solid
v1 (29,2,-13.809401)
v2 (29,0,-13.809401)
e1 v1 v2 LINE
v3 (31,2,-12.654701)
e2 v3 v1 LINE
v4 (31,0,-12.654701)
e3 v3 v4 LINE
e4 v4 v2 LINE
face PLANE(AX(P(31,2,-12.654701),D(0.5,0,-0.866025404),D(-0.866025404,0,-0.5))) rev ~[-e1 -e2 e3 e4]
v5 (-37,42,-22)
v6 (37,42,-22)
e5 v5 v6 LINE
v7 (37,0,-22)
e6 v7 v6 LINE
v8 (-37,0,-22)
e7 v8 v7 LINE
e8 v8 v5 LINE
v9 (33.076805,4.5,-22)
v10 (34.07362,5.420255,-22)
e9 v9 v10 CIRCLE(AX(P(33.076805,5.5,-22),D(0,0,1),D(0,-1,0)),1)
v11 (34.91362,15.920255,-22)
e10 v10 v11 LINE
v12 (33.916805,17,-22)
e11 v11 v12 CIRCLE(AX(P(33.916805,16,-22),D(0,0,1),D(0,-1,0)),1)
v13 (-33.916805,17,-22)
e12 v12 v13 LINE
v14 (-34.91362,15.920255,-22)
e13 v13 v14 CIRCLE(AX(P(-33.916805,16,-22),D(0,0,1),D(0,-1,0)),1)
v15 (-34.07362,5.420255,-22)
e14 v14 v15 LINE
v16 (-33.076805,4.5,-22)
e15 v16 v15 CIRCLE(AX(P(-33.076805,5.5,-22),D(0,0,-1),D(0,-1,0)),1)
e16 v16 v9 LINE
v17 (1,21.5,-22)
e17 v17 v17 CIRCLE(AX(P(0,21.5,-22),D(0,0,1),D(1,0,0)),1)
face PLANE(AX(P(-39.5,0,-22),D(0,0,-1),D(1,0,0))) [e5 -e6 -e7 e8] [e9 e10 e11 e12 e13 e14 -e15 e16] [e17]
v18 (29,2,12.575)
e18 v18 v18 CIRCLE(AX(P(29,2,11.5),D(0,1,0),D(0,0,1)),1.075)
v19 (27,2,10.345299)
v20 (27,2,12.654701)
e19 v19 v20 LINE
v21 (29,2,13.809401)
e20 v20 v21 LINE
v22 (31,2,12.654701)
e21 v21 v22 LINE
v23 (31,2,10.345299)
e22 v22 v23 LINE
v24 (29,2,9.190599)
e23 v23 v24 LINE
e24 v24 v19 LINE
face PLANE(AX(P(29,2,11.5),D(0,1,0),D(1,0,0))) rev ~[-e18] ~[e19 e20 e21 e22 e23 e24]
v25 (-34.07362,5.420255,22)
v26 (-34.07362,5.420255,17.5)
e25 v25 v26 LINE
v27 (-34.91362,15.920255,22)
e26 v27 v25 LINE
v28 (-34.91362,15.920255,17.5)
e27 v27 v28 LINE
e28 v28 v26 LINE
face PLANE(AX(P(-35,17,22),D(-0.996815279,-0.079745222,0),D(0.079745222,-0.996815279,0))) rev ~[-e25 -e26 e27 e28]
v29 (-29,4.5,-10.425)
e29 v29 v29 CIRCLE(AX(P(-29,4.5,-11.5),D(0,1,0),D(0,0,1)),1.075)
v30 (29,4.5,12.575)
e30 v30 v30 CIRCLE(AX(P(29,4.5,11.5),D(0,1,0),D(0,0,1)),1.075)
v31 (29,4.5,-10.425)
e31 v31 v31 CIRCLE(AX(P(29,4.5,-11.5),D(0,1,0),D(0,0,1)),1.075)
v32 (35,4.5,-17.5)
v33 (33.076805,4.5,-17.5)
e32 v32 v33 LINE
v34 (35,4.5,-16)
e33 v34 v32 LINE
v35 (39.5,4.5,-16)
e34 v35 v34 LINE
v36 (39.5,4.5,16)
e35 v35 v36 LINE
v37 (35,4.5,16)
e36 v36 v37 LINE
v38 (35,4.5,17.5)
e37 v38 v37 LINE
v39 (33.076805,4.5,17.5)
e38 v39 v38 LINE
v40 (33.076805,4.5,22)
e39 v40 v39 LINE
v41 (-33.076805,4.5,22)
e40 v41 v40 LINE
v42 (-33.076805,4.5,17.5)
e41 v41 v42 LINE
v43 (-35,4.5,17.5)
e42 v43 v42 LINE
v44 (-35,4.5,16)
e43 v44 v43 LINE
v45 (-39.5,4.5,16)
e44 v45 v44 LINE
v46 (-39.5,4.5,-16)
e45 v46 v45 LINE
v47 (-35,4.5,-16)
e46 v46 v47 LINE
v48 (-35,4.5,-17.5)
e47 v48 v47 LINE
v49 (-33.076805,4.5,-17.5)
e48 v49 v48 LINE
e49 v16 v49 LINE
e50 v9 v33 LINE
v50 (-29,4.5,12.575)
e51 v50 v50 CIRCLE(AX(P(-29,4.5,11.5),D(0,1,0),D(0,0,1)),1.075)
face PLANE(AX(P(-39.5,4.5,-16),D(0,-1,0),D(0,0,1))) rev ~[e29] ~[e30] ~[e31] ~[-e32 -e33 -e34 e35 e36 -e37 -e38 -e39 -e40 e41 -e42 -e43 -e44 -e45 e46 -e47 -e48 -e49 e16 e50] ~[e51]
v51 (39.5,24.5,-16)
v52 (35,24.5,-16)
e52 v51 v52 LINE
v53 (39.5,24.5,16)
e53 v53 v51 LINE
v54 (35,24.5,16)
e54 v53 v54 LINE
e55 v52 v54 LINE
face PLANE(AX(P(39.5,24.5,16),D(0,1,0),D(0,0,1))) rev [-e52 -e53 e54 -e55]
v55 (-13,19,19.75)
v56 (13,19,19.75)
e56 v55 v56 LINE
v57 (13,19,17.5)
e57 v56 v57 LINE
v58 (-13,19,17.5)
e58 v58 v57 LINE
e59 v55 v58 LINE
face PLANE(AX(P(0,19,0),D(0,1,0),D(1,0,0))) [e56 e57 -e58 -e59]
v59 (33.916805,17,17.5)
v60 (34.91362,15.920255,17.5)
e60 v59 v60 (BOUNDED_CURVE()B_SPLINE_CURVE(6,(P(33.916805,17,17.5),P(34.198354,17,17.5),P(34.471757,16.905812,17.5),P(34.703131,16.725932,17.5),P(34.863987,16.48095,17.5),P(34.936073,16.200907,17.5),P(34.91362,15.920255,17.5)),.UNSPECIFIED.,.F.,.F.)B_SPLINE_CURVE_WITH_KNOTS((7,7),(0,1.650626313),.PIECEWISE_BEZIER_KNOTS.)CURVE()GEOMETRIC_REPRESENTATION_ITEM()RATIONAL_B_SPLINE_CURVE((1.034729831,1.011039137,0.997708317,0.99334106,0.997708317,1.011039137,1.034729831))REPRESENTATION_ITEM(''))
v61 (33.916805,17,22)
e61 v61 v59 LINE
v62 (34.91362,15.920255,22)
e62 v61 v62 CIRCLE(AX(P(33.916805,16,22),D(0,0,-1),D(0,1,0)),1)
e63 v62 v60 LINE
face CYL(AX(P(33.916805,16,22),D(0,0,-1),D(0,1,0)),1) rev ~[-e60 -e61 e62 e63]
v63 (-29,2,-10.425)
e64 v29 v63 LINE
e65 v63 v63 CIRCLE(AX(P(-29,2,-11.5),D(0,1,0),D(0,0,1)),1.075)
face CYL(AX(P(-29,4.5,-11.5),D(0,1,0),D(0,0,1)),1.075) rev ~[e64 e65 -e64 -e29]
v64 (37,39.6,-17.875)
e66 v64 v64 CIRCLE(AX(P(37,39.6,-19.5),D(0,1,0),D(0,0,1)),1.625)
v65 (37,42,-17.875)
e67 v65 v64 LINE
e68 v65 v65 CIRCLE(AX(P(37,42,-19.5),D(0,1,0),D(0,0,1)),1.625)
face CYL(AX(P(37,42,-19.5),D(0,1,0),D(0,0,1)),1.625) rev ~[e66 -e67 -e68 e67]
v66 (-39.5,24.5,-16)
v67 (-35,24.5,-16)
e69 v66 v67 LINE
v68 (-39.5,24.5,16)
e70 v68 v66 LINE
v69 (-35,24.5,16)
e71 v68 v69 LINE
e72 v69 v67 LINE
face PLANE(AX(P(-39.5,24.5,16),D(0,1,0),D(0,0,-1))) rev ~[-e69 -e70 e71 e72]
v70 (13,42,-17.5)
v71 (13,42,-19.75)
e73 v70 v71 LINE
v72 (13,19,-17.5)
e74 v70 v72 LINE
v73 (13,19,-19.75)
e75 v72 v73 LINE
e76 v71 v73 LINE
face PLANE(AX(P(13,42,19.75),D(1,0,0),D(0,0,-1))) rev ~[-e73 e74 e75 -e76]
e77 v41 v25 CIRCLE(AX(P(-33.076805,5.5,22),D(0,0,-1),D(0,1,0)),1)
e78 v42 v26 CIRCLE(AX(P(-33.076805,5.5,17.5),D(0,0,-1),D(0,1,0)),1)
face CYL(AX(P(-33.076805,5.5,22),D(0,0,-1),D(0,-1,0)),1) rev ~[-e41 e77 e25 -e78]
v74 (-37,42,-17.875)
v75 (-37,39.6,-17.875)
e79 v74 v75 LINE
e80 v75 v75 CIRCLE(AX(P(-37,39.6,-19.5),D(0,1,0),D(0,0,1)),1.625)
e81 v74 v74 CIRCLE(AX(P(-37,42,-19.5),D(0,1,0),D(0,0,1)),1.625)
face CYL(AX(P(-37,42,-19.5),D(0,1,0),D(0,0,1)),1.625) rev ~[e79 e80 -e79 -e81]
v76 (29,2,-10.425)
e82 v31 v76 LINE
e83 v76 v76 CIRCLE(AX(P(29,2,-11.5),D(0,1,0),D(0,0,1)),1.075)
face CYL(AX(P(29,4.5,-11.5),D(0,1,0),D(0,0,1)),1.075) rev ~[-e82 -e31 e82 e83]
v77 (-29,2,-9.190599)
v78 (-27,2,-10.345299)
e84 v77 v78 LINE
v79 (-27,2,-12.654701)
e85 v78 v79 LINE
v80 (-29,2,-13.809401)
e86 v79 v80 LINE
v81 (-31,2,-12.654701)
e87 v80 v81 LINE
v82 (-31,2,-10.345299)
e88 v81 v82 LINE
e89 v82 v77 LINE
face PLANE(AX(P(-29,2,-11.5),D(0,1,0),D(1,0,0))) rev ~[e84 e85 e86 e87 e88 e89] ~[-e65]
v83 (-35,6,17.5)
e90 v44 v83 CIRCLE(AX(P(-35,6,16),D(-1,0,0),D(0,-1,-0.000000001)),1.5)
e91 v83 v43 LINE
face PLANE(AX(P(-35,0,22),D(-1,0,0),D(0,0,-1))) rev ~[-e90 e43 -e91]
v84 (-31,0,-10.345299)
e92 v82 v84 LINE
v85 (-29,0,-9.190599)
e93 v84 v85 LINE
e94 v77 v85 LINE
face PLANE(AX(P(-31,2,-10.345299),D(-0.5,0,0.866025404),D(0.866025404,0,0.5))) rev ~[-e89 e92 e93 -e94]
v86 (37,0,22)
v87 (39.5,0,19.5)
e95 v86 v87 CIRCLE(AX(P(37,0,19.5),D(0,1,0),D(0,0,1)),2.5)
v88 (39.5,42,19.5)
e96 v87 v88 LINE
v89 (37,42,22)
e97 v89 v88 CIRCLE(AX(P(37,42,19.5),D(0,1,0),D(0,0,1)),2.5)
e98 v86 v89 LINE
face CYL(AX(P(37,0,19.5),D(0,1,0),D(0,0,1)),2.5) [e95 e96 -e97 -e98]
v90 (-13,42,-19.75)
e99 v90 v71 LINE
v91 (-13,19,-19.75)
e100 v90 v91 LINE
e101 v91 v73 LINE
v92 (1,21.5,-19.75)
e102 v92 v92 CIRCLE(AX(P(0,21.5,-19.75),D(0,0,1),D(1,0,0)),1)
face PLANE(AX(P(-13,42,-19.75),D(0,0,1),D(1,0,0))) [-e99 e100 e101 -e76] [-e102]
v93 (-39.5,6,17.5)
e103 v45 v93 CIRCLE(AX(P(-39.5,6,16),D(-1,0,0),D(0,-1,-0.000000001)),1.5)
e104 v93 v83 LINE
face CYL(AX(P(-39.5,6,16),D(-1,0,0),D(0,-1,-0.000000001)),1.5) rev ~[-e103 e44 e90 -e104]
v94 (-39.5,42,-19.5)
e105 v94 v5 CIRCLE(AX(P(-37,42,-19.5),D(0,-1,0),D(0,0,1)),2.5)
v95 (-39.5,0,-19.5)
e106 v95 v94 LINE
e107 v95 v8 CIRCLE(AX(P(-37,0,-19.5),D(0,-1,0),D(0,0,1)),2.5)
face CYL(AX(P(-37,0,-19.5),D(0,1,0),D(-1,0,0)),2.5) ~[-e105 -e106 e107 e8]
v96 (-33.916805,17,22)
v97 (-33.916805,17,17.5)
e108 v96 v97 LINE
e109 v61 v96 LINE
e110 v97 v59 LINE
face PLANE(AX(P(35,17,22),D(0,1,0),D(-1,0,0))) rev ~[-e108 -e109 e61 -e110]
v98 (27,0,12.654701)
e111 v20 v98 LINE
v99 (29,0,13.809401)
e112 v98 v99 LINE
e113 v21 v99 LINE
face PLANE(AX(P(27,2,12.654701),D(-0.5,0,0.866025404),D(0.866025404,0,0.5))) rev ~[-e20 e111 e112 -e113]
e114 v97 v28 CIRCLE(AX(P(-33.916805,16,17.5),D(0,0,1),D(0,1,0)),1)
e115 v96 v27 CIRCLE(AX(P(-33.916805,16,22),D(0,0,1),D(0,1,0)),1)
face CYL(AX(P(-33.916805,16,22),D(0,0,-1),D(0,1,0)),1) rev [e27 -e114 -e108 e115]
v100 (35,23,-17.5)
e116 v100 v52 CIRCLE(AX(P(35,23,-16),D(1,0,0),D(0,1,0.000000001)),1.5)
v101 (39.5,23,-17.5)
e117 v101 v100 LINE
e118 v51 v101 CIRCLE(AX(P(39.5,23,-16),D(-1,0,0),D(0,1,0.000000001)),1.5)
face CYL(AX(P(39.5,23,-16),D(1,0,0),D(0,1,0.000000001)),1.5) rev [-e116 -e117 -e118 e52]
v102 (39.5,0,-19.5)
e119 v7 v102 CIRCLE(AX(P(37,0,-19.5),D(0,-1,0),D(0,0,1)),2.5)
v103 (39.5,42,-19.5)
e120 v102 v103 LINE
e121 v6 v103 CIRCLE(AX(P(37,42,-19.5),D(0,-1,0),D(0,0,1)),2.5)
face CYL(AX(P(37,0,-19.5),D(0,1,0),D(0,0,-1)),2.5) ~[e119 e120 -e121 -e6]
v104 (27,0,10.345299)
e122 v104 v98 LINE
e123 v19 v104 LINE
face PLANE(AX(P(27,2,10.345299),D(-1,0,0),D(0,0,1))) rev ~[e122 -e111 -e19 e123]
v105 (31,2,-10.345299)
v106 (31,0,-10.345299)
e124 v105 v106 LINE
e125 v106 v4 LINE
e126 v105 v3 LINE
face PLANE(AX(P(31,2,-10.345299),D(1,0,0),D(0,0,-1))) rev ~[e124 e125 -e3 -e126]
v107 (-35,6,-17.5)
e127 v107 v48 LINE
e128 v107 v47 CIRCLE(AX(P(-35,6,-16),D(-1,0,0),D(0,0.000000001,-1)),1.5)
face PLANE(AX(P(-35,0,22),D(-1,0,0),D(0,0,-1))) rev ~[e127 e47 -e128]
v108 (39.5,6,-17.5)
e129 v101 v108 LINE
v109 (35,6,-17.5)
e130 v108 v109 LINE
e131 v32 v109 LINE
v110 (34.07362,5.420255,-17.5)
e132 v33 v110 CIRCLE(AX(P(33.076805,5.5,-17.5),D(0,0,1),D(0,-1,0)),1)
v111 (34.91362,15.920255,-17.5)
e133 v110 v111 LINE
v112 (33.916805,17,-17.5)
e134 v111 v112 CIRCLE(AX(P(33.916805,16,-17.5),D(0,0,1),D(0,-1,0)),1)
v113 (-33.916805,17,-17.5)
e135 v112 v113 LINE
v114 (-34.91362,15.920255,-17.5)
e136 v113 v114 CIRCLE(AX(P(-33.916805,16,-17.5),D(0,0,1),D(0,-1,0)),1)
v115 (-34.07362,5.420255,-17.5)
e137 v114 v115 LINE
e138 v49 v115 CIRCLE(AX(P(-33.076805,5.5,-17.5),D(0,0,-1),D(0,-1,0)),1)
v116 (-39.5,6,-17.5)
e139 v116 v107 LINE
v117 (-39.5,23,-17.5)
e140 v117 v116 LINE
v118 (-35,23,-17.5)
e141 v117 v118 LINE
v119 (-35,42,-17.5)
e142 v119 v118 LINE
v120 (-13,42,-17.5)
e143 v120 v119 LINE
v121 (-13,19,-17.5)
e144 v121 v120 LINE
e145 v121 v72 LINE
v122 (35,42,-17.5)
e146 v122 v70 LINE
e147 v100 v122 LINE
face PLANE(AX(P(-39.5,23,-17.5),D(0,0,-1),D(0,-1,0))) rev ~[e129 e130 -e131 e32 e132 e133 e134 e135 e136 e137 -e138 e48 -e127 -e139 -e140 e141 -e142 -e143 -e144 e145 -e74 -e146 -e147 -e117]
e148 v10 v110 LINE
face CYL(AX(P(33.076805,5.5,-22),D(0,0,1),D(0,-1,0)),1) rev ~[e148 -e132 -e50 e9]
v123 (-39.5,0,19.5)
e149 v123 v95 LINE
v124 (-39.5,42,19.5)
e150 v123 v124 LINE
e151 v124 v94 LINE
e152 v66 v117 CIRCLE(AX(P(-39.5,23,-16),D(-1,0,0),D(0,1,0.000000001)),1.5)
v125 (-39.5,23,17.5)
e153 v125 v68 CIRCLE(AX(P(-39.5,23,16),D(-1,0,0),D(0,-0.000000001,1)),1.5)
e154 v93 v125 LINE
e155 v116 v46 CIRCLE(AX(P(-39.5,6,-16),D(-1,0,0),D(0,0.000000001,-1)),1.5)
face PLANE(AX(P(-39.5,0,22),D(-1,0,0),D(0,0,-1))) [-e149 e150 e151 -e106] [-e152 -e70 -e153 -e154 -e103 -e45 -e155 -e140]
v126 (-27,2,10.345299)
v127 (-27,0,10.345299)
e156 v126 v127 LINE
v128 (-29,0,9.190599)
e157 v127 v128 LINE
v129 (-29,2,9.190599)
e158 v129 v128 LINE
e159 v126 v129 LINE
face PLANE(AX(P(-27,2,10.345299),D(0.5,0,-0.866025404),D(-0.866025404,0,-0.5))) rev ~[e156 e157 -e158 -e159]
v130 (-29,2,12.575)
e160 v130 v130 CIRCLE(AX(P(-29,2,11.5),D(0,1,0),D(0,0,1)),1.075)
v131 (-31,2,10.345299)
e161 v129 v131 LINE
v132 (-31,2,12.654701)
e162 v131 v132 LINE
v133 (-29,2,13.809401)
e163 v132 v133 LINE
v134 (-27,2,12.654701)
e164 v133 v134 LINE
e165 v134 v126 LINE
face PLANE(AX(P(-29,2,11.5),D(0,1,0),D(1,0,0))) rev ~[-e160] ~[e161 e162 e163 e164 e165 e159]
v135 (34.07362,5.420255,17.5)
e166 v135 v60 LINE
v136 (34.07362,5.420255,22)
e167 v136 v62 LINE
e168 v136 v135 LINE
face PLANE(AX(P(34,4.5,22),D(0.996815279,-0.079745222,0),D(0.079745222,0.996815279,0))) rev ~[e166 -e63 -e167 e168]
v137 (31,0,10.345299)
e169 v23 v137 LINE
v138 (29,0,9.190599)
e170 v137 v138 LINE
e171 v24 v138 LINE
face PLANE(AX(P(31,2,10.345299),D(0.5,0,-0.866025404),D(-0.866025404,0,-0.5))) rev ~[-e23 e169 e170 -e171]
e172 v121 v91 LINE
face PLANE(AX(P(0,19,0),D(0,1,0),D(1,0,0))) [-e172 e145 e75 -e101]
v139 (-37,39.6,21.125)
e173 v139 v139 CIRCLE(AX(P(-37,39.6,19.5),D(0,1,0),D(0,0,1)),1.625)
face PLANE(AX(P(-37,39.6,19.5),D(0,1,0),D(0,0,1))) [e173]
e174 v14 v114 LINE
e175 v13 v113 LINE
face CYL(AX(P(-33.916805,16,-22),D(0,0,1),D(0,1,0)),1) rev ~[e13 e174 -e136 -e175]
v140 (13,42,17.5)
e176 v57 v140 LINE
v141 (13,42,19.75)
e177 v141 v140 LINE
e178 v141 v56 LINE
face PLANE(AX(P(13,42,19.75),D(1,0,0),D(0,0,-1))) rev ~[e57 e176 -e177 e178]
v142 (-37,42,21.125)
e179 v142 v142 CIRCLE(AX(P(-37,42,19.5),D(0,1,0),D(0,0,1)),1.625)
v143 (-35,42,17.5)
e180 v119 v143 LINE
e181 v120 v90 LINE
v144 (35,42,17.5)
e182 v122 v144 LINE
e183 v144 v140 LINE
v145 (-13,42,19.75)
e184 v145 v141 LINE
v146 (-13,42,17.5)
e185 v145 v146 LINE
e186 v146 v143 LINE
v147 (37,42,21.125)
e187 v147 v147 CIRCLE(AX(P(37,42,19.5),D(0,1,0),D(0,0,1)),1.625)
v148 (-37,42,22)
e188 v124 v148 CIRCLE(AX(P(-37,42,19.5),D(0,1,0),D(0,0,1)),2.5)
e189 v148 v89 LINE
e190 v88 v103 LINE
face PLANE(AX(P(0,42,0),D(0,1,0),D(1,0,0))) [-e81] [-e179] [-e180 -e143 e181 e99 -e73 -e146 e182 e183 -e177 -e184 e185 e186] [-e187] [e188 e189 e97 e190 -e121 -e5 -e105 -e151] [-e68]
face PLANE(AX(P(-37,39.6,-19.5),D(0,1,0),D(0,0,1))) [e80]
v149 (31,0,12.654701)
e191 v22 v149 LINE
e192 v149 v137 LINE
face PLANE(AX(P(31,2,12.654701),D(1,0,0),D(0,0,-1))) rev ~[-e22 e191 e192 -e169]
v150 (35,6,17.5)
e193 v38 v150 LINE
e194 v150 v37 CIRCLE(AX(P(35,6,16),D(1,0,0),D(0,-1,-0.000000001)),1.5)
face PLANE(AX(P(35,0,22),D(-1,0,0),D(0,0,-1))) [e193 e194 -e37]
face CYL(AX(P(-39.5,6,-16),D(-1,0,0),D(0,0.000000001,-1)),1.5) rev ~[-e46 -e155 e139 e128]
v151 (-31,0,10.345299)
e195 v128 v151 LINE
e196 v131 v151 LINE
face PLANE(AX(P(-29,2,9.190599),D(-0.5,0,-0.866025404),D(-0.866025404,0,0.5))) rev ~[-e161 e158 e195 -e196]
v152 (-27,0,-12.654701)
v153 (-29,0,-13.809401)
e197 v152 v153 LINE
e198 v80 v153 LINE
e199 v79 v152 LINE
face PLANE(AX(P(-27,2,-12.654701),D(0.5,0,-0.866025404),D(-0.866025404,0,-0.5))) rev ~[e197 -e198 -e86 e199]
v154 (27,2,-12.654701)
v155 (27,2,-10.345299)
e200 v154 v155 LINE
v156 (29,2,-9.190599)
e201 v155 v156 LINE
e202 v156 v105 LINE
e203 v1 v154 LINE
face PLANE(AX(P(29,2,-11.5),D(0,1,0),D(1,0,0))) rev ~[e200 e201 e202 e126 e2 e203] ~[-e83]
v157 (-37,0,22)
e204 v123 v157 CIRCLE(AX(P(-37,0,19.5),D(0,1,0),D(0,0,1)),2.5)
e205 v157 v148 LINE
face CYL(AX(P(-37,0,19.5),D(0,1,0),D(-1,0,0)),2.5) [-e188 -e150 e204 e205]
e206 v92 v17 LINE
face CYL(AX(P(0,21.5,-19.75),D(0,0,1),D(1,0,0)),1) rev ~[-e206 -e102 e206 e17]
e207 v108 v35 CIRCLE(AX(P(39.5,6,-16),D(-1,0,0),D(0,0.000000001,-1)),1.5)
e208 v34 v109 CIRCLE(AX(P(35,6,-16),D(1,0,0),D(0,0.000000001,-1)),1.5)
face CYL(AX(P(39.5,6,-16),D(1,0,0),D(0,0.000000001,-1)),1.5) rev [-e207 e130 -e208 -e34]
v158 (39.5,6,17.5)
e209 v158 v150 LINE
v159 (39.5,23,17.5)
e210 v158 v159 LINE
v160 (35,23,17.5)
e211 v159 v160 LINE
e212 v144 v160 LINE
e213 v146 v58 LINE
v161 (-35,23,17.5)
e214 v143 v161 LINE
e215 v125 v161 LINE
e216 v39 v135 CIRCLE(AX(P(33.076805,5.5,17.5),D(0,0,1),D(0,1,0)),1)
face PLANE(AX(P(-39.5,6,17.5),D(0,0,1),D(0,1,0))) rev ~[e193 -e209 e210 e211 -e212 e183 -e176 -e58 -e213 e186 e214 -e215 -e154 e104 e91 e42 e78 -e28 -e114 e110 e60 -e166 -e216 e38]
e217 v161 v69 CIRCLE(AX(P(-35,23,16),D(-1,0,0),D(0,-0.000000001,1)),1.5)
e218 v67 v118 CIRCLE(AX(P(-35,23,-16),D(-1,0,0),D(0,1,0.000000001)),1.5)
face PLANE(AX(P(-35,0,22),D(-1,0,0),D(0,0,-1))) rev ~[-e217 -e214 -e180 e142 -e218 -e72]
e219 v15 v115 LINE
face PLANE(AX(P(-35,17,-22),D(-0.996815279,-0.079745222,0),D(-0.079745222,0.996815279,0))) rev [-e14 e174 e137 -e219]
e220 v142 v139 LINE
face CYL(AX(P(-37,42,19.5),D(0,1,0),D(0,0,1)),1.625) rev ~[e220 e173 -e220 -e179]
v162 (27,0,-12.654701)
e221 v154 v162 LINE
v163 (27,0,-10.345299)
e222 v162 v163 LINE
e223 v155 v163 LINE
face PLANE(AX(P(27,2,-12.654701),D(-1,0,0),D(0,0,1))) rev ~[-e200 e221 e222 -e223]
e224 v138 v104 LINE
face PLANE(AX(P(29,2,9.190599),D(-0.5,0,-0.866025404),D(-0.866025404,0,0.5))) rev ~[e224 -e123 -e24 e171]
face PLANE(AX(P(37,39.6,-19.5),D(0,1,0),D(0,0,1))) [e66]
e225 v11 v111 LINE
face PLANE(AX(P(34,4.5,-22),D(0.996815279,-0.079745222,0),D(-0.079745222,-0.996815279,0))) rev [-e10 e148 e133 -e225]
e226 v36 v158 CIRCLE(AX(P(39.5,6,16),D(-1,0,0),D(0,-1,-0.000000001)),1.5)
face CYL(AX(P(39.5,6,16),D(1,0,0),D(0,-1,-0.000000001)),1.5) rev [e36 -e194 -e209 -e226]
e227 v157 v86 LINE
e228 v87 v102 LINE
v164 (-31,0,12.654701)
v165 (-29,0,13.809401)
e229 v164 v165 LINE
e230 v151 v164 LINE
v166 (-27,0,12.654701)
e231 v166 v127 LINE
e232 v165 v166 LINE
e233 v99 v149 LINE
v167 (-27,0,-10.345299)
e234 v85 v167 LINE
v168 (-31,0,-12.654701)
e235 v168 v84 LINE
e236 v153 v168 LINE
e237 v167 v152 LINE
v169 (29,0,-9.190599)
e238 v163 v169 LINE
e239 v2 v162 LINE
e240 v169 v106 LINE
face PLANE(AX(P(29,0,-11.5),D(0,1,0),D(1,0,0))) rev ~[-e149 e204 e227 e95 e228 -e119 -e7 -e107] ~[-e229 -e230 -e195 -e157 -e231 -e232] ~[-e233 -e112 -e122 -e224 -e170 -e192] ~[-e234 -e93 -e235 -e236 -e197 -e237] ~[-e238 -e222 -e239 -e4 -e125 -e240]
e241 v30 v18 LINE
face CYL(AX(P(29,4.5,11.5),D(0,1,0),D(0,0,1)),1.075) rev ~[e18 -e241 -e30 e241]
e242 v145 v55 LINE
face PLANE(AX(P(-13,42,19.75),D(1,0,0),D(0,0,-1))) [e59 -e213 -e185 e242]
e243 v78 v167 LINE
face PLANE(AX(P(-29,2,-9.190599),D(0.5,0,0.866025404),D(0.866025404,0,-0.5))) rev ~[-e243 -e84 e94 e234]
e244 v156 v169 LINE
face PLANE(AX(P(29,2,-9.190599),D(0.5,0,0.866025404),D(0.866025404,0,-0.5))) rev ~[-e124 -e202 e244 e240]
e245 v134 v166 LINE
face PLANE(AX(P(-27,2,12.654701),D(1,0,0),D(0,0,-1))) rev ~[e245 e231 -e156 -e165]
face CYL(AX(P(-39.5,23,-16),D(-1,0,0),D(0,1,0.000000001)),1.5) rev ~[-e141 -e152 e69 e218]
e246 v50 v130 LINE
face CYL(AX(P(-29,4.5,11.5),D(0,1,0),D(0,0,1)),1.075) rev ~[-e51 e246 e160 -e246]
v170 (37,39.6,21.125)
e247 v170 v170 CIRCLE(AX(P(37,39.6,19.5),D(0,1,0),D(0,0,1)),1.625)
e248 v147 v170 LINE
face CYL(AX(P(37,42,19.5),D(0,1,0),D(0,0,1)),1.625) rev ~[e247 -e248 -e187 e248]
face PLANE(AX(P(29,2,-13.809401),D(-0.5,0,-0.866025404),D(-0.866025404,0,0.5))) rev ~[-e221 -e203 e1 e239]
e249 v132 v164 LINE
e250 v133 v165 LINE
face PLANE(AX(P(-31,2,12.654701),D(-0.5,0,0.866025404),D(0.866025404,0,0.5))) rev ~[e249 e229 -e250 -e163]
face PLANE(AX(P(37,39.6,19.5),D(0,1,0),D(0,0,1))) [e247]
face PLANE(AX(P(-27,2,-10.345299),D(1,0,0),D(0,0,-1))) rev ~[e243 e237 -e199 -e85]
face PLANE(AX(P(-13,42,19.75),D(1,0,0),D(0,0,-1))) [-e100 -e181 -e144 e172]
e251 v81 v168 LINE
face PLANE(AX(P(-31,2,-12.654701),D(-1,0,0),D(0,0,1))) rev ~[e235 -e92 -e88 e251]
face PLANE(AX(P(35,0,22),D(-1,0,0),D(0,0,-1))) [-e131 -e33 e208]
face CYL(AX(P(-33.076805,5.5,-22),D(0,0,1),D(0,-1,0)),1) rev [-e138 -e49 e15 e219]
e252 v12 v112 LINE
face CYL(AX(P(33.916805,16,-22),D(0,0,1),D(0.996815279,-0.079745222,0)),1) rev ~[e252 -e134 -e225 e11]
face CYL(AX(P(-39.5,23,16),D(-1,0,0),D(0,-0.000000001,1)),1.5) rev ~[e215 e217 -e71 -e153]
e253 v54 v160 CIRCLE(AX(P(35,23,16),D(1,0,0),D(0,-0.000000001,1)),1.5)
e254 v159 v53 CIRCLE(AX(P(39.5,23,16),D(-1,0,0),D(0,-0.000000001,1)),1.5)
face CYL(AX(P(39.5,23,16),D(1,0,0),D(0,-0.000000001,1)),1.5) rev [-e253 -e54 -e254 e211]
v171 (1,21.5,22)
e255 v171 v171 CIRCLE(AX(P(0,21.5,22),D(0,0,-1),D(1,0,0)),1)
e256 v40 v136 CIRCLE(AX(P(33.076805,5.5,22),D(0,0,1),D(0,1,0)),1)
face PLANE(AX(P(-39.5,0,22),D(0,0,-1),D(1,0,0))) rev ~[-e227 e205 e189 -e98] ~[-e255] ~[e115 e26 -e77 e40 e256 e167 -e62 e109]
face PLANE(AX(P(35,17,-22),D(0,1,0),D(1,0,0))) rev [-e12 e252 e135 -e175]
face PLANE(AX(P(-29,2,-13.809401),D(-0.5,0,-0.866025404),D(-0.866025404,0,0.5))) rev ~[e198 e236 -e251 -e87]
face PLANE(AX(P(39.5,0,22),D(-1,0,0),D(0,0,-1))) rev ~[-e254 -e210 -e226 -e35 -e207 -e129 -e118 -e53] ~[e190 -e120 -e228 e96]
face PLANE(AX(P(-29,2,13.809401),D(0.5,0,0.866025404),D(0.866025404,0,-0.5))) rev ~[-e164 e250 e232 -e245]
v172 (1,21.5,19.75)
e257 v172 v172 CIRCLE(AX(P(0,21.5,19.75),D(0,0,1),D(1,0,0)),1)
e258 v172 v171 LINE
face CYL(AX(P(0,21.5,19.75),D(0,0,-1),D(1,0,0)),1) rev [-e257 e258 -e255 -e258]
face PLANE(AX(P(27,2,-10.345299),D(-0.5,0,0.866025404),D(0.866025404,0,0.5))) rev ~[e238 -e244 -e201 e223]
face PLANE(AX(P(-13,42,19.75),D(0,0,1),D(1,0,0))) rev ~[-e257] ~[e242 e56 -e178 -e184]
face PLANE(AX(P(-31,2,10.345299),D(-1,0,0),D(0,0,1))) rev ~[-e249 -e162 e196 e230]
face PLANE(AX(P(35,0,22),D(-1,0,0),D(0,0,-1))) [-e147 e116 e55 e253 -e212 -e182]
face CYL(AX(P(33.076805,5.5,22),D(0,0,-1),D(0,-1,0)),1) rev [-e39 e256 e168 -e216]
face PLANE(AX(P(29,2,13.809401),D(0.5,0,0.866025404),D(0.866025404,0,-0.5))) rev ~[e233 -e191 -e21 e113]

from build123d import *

# Parameters (mm, degrees)
BASE_W               = 79
BASE_H               = 44
BASE_R               = 1.075
BOSS_EXTRUDE1_DEPTH  = 42
SHELL1_T             = -4.5
CUT_EXTRUDE2_START   = 4.5
BASE_7_R             = 1.075
CUT_EXTRUDE2_DEPTH   = 67.211020086
CUT_EXTRUDE3_START   = 2
BASE_8_R             = 1.075
CUT_EXTRUDE3_DEPTH   = 2
SKETCH3_W            = 26
SKETCH3_H            = 39.5
CUT_EXTRUDE4_DEPTH   = 23
FILLET1_R            = 2.5
CUT_EXTRUDE5_DEPTH   = 39.5
CUT_EXTRUDE6_DEPTH   = 74.5
FILLET2_R            = 1
MOUNT_R              = 1.625
CUT_EXTRUDE7_DEPTH   = 2.4
CUT_EXTRUDE8_START   = -2.25
CAMERA_MOUNT_HOLE_R  = 1
CUT_EXTRUDE8_DEPTH   = 75.777581073
FILLET2_OF_MIRROR3_R = 1


with BuildPart() as part:
    # Base → Boss-Extrude1 (new body)
    # profile 1 of 9: a face of its own
    with BuildSketch(Plane(origin=(0, 0, 0), x_dir=(1, 0, 0), z_dir=(0, 1, 0))):
        Rectangle(BASE_W, BASE_H)
        Polygon((27, -10.345299462), (27, -12.654700538), (29, -13.809401077), (31, -12.654700538), (31, -10.345299462), (29, -9.190598923), align=None, mode=Mode.SUBTRACT)
        Polygon((-31, -10.345299462), (-31, -12.654700538), (-29, -13.809401077), (-27, -12.654700538), (-27, -10.345299462), (-29, -9.190598923), align=None, mode=Mode.SUBTRACT)
        Polygon((-31, 12.654700538), (-31, 10.345299462), (-29, 9.190598923), (-27, 10.345299462), (-27, 12.654700538), (-29, 13.809401077), align=None, mode=Mode.SUBTRACT)
        Polygon((27, 12.654700538), (27, 10.345299462), (29, 9.190598923), (31, 10.345299462), (31, 12.654700538), (29, 13.809401077), align=None, mode=Mode.SUBTRACT)
    # profile 2 of 9: a face of its own
    with BuildSketch(Plane(origin=(0, 0, 0), x_dir=(1, 0, 0), z_dir=(0, 1, 0))):
        Polygon((-29, -9.190598923), (-31, -10.345299462), (-31, -12.654700538), (-29, -13.809401077), (-27, -12.654700538), (-27, -10.345299462), align=None)
        with Locations((-29, -11.5)):
            Circle(BASE_R, mode=Mode.SUBTRACT)
    # profile 3 of 9: a face of its own
    with BuildSketch(Plane(origin=(0, 0, 0), x_dir=(1, 0, 0), z_dir=(0, 1, 0))):
        with Locations((-29, -11.5)):
            Circle(BASE_R)
    # profile 4 of 9: a face of its own
    with BuildSketch(Plane(origin=(0, 0, 0), x_dir=(1, 0, 0), z_dir=(0, 1, 0))):
        Polygon((-29, 13.809401077), (-31, 12.654700538), (-31, 10.345299462), (-29, 9.190598923), (-27, 10.345299462), (-27, 12.654700538), align=None)
        with Locations((-29, 11.5)):
            Circle(BASE_R, mode=Mode.SUBTRACT)
    # profile 5 of 9: a face of its own
    with BuildSketch(Plane(origin=(0, 0, 0), x_dir=(1, 0, 0), z_dir=(0, 1, 0))):
        with Locations((-29, 11.5)):
            Circle(BASE_R)
    # profile 6 of 9: a face of its own
    with BuildSketch(Plane(origin=(0, 0, 0), x_dir=(1, 0, 0), z_dir=(0, 1, 0))):
        Polygon((29, -9.190598923), (27, -10.345299462), (27, -12.654700538), (29, -13.809401077), (31, -12.654700538), (31, -10.345299462), align=None)
        with Locations((29, -11.5)):
            Circle(BASE_R, mode=Mode.SUBTRACT)
    # profile 7 of 9: a face of its own
    with BuildSketch(Plane(origin=(0, 0, 0), x_dir=(1, 0, 0), z_dir=(0, 1, 0))):
        with Locations((29, -11.5)):
            Circle(BASE_R)
    # profile 8 of 9: a face of its own
    with BuildSketch(Plane(origin=(0, 0, 0), x_dir=(1, 0, 0), z_dir=(0, 1, 0))):
        Polygon((29, 13.809401077), (27, 12.654700538), (27, 10.345299462), (29, 9.190598923), (31, 10.345299462), (31, 12.654700538), align=None)
        with Locations((29, 11.5)):
            Circle(BASE_R, mode=Mode.SUBTRACT)
    # profile 9 of 9: a face of its own
    with BuildSketch(Plane(origin=(0, 0, 0), x_dir=(1, 0, 0), z_dir=(0, 1, 0))):
        with Locations((29, 11.5)):
            Circle(BASE_R)
    extrude(amount=BOSS_EXTRUDE1_DEPTH)

    # Shell1
    shell1_openings = [part.faces().sort_by_distance(p)[0] for p in [
        (0, 42, 0),
    ]]
    offset(amount=SHELL1_T, openings=shell1_openings, kind=Kind.INTERSECTION)

    # Base<7> → Cut-Extrude2 (cut, through all)
    with BuildSketch(Plane(origin=(0, 0, 0), x_dir=(1, 0, 0), z_dir=(0, 1, 0)).offset(CUT_EXTRUDE2_START)):
        with Locations(Location((-29, -11.5, 0), (0, 0, 270))):
            Circle(BASE_7_R)
        with Locations(Location((-29, 11.5, 0), (0, 0, 270))):
            Circle(BASE_7_R)
        with Locations(Location((29, -11.5, 0), (0, 0, 270))):
            Circle(BASE_7_R)
        with Locations(Location((29, 11.5, 0), (0, 0, 270))):
            Circle(BASE_7_R)
    extrude(amount=-CUT_EXTRUDE2_DEPTH, mode=Mode.SUBTRACT)

    # Base<8> → Cut-Extrude3 (cut)
    # profile 1 of 4: a face of its own
    with BuildSketch(Plane(origin=(0, 0, 0), x_dir=(1, 0, 0), z_dir=(0, 1, 0)).offset(CUT_EXTRUDE3_START)):
        Polygon((29, 13.809401077), (27, 12.654700538), (27, 10.345299462), (29, 9.190598923), (31, 10.345299462), (31, 12.654700538), align=None)
        with Locations(Location((29, 11.5, 0), (0, 0, 270))):
            Circle(BASE_8_R, mode=Mode.SUBTRACT)
    # profile 2 of 4: a face of its own
    with BuildSketch(Plane(origin=(0, 0, 0), x_dir=(1, 0, 0), z_dir=(0, 1, 0)).offset(CUT_EXTRUDE3_START)):
        Polygon((29, -9.190598923), (27, -10.345299462), (27, -12.654700538), (29, -13.809401077), (31, -12.654700538), (31, -10.345299462), align=None)
        with Locations(Location((29, -11.5, 0), (0, 0, 270))):
            Circle(BASE_8_R, mode=Mode.SUBTRACT)
    # profile 3 of 4: a face of its own
    with BuildSketch(Plane(origin=(0, 0, 0), x_dir=(1, 0, 0), z_dir=(0, 1, 0)).offset(CUT_EXTRUDE3_START)):
        Polygon((-29, -9.190598923), (-31, -10.345299462), (-31, -12.654700538), (-29, -13.809401077), (-27, -12.654700538), (-27, -10.345299462), align=None)
        with Locations(Location((-29, -11.5, 0), (0, 0, 270))):
            Circle(BASE_8_R, mode=Mode.SUBTRACT)
    # profile 4 of 4: a face of its own
    with BuildSketch(Plane(origin=(0, 0, 0), x_dir=(1, 0, 0), z_dir=(0, 1, 0)).offset(CUT_EXTRUDE3_START)):
        Polygon((-29, 13.809401077), (-31, 12.654700538), (-31, 10.345299462), (-29, 9.190598923), (-27, 10.345299462), (-27, 12.654700538), align=None)
        with Locations(Location((-29, 11.5, 0), (0, 0, 270))):
            Circle(BASE_8_R, mode=Mode.SUBTRACT)
    extrude(amount=-CUT_EXTRUDE3_DEPTH, mode=Mode.SUBTRACT)

    # Sketch3 → Cut-Extrude4 (cut)
    with BuildSketch(Plane(origin=(0, 42, 0), x_dir=(1, 0, 0), z_dir=(0, 1, 0))):
        Rectangle(SKETCH3_W, SKETCH3_H)
    extrude(amount=-CUT_EXTRUDE4_DEPTH, mode=Mode.SUBTRACT)

    # Fillet1
    fillet1_edges = [part.edges().sort_by_distance(p)[0] for p in [
        (39.5, 21, 22),
        (-39.5, 21, 22),
        (-39.5, 21, -22),
        (39.5, 21, -22),
    ]]
    fillet(fillet1_edges, radius=FILLET1_R)

    # INPUTS → Cut-Extrude5 (cut)
    with BuildSketch(Plane.XY.offset(22)):
        Polygon((-35, 17), (-34, 4.5), (34, 4.5), (35, 17), align=None)
    cut_extrude5 = extrude(amount=-CUT_EXTRUDE5_DEPTH, mode=Mode.SUBTRACT)

    # SD_CARD → Cut-Extrude6 (cut)
    with BuildSketch(Plane.ZY.offset(39.5)):
        with BuildLine():
            Line((-16, 4.5), (16, 4.5))
            ThreePointArc((16, 4.5), (17.060660172, 4.939339828), (17.5, 6))
            Line((17.5, 6), (17.5, 23))
            ThreePointArc((17.5, 23), (17.060660172, 24.060660172), (16, 24.5))
            Line((16, 24.5), (-16, 24.5))
            ThreePointArc((-16, 24.5), (-17.060660172, 24.060660172), (-17.5, 23))
            Line((-17.5, 23), (-17.5, 6))
            ThreePointArc((-17.5, 6), (-17.060660172, 4.939339828), (-16, 4.5))
        make_face()
    cut_extrude6 = extrude(amount=-CUT_EXTRUDE6_DEPTH, mode=Mode.SUBTRACT)

    # Fillet2
    fillet2_edges = [part.edges().sort_by_distance(p)[0] for p in [
        (34, 4.5, 19.75),
        (35, 17, 19.75),
        (-35, 17, 19.75),
        (-34, 4.5, 19.75),
    ]]
    fillet(fillet2_edges, radius=FILLET2_R)

    # Mirror1: Cut-Extrude6 across plane
    add(cut_extrude6.mirror(Plane.ZY), mode=Mode.SUBTRACT)

    # Mount → Cut-Extrude7 (cut)
    with BuildSketch(Plane(origin=(0, 42, 0), x_dir=(1, 0, 0), z_dir=(0, 1, 0))):
        with Locations(Location((-37, 19.5, 0), (0, 0, 270))):
            Circle(MOUNT_R)
        with Locations(Location((37, 19.5, 0), (0, 0, 270))):
            Circle(MOUNT_R)
        with Locations(Location((37, -19.5, 0), (0, 0, 270))):
            Circle(MOUNT_R)
        with Locations(Location((-37, -19.5, 0), (0, 0, 270))):
            Circle(MOUNT_R)
    extrude(amount=-CUT_EXTRUDE7_DEPTH, mode=Mode.SUBTRACT)

    # Camera_Mount_Hole → Cut-Extrude8 (cut)
    with BuildSketch(Plane.XY.offset(22).offset(CUT_EXTRUDE8_START)):
        with Locations((0, 21.5)):
            Circle(CAMERA_MOUNT_HOLE_R)
    cut_extrude8 = extrude(amount=CUT_EXTRUDE8_DEPTH, mode=Mode.SUBTRACT)

    # Mirror2: Cut-Extrude8 across plane
    add(cut_extrude8.mirror(Plane.XY), mode=Mode.SUBTRACT)

    # Mirror3: Cut-Extrude5 across plane
    add(cut_extrude5.mirror(Plane.XY), mode=Mode.SUBTRACT)

    # Fillet2 of Mirror3
    fillet2_of_mirror3_edges = [part.edges().sort_by_distance(p)[0] for p in [
        (34, 4.5, -19.75),
        (35, 17, -19.75),
        (-35, 17, -19.75),
        (-34, 4.5, -19.75),
    ]]
    fillet(fillet2_of_mirror3_edges, radius=FILLET2_OF_MIRROR3_R)


solid = part.part
